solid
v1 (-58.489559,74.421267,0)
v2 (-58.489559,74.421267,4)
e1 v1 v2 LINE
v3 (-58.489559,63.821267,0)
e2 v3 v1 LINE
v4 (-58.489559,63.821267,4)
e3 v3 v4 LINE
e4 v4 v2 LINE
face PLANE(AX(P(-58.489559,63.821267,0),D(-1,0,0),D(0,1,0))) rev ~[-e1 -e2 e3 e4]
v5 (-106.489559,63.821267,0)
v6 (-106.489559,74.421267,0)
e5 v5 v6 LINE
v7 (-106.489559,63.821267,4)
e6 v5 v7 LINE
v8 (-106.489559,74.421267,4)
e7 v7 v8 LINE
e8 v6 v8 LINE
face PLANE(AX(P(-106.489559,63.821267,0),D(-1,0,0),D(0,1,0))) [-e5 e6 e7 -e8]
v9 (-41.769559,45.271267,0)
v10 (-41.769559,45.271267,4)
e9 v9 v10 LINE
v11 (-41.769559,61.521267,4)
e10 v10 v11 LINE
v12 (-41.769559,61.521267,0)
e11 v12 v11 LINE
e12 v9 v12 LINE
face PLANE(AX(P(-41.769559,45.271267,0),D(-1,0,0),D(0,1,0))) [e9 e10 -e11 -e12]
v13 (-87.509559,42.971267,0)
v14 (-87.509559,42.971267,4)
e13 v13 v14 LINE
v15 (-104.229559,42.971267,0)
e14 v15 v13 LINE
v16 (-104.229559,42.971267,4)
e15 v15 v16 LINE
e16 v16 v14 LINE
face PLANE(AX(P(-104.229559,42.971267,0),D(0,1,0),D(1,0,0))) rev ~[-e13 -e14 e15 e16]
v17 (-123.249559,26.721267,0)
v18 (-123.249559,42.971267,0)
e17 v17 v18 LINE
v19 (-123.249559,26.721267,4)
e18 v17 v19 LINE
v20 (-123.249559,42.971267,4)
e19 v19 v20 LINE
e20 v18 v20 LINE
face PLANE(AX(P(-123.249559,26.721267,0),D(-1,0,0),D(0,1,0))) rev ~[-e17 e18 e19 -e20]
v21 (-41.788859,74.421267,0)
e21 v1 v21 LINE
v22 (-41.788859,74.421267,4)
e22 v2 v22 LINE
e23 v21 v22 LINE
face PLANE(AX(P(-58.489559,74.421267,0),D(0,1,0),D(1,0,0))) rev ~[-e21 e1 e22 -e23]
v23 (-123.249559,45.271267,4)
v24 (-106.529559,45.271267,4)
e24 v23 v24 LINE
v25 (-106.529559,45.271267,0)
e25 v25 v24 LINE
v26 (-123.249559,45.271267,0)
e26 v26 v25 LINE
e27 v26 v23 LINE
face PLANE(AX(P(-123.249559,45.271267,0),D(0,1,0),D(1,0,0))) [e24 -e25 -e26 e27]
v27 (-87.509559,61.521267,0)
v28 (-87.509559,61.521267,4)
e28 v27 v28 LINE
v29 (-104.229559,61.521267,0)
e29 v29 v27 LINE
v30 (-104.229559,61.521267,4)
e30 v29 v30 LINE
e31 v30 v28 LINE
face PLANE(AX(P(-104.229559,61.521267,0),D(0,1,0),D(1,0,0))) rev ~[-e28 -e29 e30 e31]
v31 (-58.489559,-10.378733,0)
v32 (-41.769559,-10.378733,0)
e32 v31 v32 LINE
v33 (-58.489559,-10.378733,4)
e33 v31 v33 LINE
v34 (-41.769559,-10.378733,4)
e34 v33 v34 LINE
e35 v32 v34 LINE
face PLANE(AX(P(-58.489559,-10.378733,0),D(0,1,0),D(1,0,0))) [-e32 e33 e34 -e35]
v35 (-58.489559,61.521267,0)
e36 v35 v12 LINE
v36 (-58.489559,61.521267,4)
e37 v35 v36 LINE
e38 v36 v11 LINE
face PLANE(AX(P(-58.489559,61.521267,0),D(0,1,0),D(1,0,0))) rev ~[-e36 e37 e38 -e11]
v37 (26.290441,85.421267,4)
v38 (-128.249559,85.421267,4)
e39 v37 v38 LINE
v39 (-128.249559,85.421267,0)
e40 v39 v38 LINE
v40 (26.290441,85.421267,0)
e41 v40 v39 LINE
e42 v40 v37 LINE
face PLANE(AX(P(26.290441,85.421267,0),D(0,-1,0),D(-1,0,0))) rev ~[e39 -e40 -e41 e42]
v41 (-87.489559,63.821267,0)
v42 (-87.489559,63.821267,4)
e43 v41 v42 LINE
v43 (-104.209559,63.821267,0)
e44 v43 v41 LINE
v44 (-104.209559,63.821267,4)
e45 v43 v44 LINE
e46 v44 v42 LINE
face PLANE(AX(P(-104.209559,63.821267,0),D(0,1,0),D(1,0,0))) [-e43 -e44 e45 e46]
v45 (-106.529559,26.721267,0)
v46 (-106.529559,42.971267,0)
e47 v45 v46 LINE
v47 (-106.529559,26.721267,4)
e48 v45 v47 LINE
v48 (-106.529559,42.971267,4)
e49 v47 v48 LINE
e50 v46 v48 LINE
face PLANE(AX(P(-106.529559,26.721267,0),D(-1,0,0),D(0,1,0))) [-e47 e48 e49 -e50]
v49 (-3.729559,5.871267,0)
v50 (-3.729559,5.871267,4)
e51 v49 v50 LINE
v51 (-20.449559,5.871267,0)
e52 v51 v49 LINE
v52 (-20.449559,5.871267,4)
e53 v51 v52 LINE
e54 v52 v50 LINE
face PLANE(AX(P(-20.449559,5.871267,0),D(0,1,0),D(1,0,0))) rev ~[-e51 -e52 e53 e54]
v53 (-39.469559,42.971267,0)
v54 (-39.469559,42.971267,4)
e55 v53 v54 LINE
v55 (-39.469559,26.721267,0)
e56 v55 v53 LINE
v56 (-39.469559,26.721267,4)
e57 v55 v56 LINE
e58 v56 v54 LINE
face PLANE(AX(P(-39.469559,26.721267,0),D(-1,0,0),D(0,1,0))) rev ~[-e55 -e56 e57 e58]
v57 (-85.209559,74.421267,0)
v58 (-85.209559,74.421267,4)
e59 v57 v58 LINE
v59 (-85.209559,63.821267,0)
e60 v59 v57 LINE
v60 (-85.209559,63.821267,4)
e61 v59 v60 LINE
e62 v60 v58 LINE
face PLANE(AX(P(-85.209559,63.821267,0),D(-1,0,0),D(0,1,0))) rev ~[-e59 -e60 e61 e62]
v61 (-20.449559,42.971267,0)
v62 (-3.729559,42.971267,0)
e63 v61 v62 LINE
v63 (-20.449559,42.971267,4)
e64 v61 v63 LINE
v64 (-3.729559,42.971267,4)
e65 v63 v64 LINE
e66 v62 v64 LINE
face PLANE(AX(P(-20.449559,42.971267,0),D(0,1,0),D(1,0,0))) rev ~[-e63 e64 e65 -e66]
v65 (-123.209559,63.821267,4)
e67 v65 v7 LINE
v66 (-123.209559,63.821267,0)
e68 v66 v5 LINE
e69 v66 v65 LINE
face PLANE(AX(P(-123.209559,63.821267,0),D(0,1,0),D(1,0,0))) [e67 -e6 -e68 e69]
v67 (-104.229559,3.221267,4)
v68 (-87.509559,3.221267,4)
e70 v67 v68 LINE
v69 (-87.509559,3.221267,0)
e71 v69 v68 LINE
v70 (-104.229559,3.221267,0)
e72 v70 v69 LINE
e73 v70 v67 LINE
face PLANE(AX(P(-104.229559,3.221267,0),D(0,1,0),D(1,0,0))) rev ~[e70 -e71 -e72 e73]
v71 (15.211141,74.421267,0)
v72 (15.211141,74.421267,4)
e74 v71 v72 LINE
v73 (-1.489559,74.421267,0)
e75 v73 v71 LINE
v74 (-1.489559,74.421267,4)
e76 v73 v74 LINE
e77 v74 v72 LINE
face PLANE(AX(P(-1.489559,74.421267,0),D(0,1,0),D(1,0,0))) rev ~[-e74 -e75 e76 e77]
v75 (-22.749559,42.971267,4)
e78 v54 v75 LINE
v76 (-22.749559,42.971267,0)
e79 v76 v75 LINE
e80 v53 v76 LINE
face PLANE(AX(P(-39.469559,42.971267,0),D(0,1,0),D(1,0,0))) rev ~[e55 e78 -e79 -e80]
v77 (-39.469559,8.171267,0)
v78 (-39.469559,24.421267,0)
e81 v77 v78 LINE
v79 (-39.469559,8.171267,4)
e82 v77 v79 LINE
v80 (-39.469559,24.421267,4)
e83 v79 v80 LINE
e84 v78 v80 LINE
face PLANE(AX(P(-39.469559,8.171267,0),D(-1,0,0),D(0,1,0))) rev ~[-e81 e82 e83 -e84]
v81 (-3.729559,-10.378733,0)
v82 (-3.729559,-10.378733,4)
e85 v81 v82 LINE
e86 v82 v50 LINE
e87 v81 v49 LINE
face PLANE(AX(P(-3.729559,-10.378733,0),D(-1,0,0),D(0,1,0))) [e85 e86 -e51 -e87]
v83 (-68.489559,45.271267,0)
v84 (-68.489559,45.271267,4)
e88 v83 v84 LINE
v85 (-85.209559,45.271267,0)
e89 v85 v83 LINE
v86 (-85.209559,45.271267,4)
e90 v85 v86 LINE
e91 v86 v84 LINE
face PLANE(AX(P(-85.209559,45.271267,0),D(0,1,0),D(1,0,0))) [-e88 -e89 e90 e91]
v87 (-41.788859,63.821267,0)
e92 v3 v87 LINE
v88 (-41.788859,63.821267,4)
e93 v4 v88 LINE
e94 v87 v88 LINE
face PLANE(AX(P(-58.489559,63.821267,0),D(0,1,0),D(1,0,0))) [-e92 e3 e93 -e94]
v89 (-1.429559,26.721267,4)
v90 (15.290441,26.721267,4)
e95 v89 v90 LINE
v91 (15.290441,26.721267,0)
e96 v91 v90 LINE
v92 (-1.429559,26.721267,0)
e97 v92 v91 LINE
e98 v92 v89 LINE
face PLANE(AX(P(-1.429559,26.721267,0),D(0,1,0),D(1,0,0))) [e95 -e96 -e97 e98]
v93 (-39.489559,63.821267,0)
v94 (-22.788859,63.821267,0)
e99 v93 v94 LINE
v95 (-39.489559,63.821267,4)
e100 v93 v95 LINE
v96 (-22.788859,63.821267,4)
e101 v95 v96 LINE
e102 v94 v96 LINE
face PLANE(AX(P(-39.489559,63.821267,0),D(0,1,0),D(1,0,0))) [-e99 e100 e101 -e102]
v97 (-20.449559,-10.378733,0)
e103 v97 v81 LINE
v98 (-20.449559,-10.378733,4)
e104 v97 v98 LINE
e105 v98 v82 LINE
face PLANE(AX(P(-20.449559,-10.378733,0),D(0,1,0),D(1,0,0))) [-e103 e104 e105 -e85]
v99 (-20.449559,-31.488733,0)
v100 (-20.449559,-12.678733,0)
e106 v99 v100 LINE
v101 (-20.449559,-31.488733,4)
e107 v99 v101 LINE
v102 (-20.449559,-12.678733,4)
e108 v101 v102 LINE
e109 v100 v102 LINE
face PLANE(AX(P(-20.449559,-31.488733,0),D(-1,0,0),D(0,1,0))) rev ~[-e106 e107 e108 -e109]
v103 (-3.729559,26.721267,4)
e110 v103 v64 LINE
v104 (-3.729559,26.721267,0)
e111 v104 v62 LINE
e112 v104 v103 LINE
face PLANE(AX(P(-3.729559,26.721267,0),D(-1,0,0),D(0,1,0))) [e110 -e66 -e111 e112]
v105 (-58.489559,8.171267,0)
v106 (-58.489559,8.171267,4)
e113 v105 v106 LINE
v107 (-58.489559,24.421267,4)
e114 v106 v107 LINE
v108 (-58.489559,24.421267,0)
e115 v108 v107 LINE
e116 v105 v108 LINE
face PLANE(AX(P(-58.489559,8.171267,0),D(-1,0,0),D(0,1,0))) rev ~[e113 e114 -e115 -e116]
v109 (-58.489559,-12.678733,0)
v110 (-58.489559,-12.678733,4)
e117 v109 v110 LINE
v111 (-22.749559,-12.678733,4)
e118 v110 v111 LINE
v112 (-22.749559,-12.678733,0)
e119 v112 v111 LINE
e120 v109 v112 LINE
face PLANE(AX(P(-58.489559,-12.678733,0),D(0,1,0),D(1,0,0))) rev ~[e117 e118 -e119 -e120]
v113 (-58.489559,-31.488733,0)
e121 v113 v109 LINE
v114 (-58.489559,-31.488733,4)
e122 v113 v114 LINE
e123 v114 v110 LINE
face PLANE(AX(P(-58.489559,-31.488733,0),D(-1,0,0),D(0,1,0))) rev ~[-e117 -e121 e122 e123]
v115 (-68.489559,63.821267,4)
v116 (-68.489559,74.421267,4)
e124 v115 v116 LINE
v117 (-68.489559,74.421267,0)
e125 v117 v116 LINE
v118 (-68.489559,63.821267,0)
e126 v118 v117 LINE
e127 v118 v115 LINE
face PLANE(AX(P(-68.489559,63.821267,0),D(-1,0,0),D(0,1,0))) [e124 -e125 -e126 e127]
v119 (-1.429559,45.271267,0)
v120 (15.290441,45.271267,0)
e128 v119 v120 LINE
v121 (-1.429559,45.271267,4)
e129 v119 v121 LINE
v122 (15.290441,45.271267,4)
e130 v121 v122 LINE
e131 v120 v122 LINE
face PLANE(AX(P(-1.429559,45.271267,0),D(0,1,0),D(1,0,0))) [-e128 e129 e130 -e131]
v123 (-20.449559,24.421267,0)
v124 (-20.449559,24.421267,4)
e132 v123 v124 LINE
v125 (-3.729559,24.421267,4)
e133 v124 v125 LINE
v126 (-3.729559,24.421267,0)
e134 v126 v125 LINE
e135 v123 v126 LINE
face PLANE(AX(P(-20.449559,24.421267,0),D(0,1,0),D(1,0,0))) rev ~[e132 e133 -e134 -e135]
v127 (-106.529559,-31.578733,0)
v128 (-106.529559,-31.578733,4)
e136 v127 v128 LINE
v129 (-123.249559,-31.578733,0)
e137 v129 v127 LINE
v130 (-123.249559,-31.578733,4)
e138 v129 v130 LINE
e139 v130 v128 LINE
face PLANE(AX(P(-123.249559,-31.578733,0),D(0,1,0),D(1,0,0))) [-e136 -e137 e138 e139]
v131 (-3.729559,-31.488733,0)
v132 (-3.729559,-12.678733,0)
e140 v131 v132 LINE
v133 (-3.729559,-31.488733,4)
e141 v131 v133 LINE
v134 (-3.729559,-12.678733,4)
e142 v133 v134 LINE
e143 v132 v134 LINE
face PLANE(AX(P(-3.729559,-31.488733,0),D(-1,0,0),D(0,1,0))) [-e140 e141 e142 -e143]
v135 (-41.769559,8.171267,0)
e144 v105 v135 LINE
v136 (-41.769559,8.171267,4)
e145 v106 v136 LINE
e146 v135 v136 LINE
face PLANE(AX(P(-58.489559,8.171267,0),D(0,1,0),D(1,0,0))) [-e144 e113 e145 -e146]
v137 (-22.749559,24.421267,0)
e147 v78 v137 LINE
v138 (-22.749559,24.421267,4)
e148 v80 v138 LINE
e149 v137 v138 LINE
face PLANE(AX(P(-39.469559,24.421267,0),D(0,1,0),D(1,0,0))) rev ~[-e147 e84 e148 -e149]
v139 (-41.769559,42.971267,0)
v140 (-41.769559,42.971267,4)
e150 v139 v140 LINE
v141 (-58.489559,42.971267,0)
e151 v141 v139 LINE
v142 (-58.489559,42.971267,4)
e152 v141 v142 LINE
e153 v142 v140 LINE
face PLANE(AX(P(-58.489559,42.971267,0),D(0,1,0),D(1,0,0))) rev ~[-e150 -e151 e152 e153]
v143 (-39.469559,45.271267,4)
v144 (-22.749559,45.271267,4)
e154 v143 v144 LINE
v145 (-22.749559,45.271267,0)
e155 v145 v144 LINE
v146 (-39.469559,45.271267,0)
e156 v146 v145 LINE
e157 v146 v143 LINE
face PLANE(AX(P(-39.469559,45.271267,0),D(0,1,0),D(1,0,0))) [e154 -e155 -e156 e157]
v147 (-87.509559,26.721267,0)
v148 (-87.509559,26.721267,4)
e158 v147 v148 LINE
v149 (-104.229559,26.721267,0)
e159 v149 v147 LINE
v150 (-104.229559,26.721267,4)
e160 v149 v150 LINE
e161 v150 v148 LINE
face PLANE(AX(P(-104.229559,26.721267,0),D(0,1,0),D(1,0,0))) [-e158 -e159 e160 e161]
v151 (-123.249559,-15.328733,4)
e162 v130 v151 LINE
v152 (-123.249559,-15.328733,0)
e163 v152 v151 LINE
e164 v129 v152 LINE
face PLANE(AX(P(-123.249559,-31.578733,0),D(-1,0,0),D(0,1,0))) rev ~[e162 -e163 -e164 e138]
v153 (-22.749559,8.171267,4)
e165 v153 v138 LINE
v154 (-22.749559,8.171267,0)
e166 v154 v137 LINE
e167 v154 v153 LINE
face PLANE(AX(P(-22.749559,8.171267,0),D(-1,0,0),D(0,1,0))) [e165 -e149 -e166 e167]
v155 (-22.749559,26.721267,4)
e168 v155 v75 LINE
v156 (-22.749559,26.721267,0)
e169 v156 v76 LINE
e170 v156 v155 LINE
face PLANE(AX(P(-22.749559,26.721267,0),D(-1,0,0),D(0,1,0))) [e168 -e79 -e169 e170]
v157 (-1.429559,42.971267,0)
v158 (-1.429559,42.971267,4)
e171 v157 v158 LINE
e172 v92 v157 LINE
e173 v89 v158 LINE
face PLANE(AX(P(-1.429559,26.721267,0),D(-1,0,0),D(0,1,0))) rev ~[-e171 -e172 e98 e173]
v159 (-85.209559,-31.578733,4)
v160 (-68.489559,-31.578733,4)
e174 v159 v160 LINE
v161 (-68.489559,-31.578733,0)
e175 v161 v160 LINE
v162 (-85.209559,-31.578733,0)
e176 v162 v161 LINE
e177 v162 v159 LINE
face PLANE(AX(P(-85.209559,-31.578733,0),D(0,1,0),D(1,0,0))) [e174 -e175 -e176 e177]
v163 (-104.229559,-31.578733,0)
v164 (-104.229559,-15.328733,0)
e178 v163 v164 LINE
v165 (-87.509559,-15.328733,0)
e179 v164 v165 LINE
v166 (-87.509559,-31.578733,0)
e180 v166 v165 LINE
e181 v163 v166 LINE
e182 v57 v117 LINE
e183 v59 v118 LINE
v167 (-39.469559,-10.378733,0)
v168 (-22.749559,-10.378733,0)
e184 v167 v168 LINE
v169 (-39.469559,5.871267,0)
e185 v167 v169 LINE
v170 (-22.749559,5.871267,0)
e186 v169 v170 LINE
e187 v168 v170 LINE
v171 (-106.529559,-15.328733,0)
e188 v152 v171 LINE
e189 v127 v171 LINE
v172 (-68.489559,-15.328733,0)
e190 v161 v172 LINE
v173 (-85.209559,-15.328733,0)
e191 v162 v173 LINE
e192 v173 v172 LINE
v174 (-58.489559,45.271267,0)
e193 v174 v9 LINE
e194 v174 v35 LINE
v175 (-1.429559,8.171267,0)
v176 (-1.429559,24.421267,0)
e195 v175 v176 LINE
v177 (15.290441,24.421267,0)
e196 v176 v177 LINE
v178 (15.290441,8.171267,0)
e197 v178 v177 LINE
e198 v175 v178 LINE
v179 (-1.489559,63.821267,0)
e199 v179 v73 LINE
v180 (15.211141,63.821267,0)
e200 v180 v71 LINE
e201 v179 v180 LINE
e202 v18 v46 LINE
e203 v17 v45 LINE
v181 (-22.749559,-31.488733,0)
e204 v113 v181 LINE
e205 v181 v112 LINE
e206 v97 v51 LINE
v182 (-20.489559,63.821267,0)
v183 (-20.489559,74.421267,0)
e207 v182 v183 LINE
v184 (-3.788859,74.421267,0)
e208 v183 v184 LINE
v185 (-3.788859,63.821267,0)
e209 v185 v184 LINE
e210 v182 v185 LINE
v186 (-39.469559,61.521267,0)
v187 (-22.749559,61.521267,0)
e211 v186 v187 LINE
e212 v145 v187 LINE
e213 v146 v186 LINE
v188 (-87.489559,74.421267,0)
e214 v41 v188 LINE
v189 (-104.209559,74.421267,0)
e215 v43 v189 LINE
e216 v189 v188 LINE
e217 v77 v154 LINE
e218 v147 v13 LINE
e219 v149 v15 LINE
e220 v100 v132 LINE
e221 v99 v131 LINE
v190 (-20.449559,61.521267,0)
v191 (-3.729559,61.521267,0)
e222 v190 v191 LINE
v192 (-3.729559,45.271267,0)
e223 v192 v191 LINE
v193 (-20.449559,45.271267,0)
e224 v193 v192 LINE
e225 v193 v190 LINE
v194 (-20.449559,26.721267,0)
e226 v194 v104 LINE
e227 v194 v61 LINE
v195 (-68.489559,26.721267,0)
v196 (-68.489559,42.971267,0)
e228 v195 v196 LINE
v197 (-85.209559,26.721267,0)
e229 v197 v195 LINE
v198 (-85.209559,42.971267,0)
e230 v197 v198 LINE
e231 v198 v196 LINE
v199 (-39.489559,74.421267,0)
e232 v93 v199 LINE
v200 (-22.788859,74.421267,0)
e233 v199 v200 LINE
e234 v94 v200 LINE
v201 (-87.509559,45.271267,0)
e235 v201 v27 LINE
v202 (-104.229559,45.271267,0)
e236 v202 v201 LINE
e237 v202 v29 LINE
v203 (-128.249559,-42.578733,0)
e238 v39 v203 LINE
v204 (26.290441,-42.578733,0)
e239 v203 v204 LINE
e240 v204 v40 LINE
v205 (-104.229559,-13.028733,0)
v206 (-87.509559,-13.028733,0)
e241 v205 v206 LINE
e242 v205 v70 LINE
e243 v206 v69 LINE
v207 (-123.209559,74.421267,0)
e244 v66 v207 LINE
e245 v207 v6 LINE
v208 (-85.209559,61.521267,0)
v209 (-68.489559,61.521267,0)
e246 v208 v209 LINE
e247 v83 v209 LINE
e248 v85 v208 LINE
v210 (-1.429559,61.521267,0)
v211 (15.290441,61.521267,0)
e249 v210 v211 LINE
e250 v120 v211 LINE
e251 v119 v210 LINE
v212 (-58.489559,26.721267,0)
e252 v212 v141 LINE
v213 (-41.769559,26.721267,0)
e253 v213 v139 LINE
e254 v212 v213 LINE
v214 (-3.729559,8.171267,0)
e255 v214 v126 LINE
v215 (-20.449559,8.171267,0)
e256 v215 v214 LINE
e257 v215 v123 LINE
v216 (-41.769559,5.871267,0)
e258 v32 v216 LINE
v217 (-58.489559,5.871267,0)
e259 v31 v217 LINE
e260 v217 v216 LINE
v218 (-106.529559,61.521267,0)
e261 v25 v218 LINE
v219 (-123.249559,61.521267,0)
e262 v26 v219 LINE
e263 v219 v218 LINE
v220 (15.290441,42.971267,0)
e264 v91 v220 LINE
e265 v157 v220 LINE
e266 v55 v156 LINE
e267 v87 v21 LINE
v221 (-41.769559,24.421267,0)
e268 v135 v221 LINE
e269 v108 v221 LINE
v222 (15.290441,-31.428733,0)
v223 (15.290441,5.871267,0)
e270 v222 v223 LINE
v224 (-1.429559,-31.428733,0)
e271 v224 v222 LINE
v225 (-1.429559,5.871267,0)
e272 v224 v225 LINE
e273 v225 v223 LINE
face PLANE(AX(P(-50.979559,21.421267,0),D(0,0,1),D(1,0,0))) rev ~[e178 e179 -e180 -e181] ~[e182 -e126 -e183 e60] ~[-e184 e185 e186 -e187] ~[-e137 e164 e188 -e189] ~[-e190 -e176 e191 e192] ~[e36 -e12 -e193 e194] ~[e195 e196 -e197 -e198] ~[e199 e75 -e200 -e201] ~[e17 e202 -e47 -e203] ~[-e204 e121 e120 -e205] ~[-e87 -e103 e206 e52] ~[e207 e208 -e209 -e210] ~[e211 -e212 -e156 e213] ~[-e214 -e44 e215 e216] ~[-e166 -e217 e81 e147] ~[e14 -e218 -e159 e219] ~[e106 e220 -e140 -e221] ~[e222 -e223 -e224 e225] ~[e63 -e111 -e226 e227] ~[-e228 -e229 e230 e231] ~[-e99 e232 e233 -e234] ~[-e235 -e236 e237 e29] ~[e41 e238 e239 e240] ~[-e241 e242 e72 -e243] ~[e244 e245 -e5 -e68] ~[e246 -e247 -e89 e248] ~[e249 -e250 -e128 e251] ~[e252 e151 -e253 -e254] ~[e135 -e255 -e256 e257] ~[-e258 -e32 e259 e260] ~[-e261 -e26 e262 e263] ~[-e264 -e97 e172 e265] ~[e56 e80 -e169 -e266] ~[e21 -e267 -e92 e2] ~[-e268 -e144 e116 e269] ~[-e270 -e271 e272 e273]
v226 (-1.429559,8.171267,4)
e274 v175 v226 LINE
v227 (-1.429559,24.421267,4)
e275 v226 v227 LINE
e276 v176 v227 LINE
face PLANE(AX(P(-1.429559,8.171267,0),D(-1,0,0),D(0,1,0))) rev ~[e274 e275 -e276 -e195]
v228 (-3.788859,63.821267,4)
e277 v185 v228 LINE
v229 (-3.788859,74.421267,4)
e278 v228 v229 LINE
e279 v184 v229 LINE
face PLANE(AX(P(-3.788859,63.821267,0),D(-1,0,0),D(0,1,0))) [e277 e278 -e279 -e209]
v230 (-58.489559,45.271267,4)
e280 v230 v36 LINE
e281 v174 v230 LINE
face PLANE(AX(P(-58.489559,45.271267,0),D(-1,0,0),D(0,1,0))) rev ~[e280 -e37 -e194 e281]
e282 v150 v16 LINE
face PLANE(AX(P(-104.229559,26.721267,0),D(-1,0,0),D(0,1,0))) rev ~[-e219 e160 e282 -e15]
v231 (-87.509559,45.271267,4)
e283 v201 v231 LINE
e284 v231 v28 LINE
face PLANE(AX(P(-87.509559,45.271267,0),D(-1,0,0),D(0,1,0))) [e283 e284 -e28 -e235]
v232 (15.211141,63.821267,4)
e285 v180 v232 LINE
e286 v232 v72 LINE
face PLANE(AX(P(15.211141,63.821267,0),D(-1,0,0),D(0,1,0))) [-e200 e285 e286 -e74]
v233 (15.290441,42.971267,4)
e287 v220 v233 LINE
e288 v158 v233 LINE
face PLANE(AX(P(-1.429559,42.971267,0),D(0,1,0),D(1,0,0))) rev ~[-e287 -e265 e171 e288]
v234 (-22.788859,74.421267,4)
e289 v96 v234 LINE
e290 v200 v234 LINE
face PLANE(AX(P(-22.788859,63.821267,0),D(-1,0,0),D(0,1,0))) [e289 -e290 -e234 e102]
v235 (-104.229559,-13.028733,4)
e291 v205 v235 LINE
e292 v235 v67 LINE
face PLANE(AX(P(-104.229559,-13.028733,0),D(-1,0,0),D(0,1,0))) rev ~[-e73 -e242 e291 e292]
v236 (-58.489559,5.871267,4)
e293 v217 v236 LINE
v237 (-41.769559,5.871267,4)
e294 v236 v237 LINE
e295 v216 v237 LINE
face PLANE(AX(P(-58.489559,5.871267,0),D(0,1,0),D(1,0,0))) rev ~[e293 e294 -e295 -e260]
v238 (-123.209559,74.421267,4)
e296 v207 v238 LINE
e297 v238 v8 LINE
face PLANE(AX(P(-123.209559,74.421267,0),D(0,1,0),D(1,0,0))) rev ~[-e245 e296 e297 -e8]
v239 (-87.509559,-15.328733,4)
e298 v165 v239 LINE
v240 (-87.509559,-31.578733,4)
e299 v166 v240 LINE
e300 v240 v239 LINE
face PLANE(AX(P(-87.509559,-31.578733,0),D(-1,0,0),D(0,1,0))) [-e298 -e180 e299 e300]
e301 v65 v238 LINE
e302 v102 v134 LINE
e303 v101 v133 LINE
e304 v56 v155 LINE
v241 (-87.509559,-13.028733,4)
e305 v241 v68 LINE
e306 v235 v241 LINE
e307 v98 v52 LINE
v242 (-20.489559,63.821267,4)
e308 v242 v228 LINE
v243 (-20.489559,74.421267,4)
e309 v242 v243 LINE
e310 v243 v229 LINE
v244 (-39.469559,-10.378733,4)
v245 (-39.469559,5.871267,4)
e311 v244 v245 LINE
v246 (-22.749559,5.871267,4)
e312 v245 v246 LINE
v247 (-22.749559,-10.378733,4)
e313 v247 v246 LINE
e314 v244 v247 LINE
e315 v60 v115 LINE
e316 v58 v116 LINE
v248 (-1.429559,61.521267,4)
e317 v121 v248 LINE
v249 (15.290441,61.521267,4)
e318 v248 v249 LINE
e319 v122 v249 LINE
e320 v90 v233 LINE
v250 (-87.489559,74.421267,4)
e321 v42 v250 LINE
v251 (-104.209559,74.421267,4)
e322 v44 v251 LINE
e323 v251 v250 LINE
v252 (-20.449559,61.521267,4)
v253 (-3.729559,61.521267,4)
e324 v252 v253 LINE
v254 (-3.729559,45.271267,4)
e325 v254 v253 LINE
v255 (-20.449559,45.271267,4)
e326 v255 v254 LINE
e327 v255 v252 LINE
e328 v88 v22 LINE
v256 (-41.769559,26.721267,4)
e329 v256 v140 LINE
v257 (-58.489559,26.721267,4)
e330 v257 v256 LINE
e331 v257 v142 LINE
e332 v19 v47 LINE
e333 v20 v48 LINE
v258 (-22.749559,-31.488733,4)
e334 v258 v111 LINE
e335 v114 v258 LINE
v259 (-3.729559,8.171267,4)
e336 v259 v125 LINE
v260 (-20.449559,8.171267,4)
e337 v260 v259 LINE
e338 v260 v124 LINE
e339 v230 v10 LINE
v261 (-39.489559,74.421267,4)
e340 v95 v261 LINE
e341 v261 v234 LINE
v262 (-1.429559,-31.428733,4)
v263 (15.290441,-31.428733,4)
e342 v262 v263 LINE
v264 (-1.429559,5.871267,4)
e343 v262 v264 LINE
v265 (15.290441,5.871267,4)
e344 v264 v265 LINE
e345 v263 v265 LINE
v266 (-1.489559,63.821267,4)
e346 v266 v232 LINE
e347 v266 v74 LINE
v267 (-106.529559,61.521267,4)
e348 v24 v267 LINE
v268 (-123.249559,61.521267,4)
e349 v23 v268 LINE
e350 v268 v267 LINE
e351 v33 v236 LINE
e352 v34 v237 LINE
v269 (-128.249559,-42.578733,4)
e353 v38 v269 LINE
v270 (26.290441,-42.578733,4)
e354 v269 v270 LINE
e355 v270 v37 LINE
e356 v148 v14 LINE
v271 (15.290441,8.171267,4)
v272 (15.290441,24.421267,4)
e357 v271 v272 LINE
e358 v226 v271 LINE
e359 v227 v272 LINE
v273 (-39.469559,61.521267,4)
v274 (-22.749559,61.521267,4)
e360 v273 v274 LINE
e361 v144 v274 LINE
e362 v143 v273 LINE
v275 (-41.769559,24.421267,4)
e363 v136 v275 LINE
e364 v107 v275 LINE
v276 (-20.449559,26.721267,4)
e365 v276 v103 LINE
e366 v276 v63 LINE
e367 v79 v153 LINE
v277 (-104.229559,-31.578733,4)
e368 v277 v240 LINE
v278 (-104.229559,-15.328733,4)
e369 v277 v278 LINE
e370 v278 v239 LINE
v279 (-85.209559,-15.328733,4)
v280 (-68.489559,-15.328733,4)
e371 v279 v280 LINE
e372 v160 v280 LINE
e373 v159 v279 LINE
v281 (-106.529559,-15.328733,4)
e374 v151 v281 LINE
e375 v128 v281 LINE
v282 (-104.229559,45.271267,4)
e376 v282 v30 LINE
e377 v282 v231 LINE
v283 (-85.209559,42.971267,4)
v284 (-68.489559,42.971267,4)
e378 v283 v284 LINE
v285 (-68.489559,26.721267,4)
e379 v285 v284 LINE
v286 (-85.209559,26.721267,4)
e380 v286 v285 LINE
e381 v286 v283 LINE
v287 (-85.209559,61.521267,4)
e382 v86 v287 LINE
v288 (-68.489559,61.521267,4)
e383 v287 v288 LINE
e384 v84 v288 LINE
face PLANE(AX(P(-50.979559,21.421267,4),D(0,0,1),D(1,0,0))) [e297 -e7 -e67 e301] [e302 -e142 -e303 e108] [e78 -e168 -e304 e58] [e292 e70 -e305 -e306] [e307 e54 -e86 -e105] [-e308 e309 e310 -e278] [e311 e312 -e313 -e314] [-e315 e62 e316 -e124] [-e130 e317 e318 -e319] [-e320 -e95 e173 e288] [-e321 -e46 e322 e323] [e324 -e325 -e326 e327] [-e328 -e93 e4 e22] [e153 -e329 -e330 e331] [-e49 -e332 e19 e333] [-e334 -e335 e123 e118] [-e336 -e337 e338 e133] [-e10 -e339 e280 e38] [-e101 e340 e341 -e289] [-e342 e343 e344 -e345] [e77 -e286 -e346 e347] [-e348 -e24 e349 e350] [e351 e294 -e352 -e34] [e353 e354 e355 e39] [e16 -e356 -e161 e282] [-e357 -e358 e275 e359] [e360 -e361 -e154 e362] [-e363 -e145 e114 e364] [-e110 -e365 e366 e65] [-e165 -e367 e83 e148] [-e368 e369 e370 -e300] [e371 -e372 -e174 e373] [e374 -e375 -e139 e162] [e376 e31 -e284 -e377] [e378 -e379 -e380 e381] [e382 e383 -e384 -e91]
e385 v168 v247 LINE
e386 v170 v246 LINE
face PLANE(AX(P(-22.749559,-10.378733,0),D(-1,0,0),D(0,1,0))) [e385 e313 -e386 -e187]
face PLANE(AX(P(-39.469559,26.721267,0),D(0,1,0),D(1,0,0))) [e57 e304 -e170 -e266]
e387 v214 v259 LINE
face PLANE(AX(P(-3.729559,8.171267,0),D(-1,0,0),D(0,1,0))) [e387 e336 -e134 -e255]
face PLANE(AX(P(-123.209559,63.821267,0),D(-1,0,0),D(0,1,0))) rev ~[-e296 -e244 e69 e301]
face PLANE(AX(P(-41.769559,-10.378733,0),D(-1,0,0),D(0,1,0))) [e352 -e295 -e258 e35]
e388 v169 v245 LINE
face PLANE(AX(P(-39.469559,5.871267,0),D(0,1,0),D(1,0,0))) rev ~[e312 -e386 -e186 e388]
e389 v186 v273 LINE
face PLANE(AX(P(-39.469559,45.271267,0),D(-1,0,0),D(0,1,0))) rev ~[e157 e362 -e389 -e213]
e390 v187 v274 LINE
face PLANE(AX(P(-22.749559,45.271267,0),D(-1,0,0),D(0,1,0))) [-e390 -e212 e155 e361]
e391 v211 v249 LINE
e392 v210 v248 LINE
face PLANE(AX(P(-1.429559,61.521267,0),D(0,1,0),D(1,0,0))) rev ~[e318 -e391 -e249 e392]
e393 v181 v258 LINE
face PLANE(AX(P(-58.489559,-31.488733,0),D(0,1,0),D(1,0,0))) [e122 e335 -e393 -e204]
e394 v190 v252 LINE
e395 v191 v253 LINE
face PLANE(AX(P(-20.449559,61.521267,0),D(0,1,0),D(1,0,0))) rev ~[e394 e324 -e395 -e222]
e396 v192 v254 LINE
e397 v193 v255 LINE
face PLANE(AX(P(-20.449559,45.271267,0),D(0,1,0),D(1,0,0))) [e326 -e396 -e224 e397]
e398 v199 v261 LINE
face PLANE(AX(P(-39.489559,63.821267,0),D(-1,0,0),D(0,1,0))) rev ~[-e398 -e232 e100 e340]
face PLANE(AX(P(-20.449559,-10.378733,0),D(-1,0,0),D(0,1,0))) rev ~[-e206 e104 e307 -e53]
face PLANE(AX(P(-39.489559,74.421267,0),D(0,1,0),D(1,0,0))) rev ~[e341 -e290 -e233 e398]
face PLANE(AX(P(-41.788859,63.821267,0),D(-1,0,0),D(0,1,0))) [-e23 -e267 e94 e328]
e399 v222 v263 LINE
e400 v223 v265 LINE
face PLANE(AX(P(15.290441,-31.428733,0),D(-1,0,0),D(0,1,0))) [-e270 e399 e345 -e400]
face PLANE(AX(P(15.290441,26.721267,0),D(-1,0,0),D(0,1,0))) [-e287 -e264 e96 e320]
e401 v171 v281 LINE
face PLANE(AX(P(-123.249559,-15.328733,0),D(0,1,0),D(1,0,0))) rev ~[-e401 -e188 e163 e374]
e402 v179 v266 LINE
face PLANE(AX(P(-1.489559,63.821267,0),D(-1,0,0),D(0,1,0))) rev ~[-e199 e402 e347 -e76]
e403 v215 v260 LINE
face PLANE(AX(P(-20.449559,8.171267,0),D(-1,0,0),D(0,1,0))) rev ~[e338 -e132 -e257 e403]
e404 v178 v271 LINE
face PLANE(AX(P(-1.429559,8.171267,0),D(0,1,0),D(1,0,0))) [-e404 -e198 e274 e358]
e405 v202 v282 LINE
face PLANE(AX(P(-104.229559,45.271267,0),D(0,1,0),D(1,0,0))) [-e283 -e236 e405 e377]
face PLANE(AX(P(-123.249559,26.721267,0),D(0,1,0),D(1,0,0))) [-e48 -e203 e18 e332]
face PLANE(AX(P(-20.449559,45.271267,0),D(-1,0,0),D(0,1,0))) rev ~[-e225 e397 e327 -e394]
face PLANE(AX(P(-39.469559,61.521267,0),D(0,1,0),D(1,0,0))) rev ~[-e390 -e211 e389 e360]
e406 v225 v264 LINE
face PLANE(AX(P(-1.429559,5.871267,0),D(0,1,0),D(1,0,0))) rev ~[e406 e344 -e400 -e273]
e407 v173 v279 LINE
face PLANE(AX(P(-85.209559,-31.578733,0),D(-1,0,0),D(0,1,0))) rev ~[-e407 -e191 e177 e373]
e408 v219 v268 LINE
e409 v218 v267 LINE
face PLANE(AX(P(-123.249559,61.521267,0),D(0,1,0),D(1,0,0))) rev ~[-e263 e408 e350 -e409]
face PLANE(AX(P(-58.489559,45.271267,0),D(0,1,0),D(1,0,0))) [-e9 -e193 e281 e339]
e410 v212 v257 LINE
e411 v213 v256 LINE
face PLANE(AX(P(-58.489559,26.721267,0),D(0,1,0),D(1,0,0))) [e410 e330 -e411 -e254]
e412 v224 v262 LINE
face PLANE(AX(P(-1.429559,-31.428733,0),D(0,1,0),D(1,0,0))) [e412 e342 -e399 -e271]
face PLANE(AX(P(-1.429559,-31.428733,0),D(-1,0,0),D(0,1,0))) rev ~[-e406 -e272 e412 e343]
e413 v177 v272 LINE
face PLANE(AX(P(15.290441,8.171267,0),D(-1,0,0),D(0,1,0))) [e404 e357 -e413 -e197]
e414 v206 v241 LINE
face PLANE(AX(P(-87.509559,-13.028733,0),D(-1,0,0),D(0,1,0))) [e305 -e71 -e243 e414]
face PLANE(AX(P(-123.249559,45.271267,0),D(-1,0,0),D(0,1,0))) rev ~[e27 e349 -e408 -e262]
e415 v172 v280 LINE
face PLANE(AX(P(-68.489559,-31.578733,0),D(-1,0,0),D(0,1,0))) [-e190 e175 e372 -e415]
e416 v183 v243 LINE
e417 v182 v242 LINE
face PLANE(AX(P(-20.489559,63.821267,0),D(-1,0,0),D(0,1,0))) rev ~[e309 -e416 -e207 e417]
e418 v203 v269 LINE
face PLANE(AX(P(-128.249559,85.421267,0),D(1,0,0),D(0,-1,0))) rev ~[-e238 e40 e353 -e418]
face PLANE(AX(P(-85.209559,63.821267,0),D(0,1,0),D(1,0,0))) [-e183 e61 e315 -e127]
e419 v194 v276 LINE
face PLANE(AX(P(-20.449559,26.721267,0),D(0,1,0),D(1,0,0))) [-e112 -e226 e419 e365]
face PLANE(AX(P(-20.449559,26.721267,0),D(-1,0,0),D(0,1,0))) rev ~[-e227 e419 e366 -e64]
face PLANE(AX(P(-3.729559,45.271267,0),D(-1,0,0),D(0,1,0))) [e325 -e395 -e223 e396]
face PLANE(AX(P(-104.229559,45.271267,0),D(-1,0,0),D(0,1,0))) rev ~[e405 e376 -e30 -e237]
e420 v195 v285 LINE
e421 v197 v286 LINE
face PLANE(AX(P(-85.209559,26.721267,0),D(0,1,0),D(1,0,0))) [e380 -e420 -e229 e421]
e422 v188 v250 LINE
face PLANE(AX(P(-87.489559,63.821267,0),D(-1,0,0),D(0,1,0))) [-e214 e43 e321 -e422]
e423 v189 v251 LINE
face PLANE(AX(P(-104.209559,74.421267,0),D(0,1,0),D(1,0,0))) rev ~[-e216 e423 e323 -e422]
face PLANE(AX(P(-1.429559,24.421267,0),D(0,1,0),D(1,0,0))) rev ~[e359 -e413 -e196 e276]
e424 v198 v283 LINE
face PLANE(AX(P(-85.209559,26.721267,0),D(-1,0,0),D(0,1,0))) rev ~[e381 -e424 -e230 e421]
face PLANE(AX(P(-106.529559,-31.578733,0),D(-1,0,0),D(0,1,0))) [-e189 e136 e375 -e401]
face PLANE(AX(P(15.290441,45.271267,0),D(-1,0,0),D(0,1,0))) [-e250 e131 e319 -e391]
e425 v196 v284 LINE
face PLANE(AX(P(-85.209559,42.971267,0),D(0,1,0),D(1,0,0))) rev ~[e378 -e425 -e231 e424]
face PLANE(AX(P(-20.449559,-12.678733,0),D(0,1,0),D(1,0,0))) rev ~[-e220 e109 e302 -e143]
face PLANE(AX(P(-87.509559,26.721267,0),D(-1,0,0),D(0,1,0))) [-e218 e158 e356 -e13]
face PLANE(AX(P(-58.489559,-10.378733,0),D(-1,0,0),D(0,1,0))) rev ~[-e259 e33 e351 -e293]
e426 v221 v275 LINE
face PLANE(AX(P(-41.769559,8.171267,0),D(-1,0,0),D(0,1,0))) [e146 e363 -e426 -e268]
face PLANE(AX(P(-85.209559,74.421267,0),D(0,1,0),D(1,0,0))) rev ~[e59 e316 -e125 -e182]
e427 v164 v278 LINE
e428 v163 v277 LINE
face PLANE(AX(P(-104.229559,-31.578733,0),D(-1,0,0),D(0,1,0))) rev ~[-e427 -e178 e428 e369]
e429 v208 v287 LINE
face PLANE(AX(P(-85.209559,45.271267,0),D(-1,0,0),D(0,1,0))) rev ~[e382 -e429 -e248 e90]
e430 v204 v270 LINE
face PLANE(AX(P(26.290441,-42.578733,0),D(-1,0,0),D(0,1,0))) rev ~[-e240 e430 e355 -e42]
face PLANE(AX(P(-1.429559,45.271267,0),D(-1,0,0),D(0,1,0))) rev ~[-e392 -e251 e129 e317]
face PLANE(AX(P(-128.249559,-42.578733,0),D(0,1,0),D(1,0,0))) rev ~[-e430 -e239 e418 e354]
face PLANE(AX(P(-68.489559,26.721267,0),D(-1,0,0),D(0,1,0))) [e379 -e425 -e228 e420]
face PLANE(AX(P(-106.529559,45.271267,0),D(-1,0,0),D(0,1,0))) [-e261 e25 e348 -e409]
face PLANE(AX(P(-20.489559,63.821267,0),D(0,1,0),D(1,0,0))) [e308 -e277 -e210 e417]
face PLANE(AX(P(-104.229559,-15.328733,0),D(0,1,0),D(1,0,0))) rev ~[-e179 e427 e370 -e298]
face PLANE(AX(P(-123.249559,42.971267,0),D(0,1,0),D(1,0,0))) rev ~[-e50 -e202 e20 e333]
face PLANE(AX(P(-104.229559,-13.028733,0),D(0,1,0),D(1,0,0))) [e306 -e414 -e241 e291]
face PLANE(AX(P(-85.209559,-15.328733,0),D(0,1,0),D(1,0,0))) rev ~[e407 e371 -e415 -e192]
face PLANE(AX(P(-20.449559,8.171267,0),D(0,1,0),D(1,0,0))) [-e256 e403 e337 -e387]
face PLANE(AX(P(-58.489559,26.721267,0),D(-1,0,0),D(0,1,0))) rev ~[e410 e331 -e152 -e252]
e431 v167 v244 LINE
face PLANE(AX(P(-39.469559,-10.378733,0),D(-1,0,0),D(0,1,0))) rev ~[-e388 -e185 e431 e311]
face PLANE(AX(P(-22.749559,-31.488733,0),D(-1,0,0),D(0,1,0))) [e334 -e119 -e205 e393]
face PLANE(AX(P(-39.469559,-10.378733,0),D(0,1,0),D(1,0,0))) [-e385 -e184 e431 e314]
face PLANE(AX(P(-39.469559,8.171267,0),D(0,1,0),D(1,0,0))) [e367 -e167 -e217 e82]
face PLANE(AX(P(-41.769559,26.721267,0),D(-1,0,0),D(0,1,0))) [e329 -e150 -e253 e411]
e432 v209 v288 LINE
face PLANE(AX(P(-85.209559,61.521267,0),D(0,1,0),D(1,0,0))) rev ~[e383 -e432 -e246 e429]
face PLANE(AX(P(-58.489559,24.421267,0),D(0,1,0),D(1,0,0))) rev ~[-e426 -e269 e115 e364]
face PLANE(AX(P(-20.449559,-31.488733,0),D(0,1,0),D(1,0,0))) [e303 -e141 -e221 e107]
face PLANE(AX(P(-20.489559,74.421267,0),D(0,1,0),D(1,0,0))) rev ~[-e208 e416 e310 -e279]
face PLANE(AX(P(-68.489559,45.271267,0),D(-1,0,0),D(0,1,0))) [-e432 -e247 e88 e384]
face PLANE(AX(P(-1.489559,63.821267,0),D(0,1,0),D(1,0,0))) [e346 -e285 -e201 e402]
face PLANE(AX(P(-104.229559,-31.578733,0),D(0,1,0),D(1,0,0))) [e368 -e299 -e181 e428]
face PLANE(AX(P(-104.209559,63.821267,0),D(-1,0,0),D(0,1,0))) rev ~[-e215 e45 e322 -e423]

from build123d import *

# Parameters (mm, degrees)
F0_W     = 16.72
F0_H     = 16.25
F0_W_2   = 35.74
F0_H_2   = 18.81
F0_H_3   = 37.3
F0_H_4   = 10.6
F0_W_3   = 16.7007
F1_DEPTH = 4


with BuildPart() as f1:
    # F0 (on Top) → F1 (new body)
    with BuildSketch(Plane.XY):
        Polygon((26.290441, -42.578733), (26.290441, 85.421267), (-128.249559, 85.421267), (-128.249559, 78.421267), (-128.249559, -35.578733), (-128.249559, -42.578733), align=None)
        with Locations((-114.889559, -23.453733)):
            Rectangle(F0_W, F0_H, mode=Mode.SUBTRACT)
        with Locations((-95.869559, -23.453733)):
            Rectangle(F0_W, F0_H, mode=Mode.SUBTRACT)
        with Locations((-76.849559, -23.453733)):
            Rectangle(F0_W, F0_H, mode=Mode.SUBTRACT)
        with Locations((-95.869559, -4.903733)):
            Rectangle(F0_W, F0_H, mode=Mode.SUBTRACT)
        with Locations((-40.619559, -22.083733)):
            Rectangle(F0_W_2, F0_H_2, mode=Mode.SUBTRACT)
        with Locations((-12.089559, -22.083733)):
            Rectangle(F0_W, F0_H_2, mode=Mode.SUBTRACT)
        with Locations((6.930441, -12.778733)):
            Rectangle(F0_W, F0_H_3, mode=Mode.SUBTRACT)
        with Locations((-50.129559, -2.253733)):
            Rectangle(F0_W, F0_H, mode=Mode.SUBTRACT)
        with Locations((-31.109559, -2.253733)):
            Rectangle(F0_W, F0_H, mode=Mode.SUBTRACT)
        with Locations((-50.129559, 16.296267)):
            Rectangle(F0_W, F0_H, mode=Mode.SUBTRACT)
        with Locations((-31.109559, 16.296267)):
            Rectangle(F0_W, F0_H, mode=Mode.SUBTRACT)
        with Locations((-12.089559, -2.253733)):
            Rectangle(F0_W, F0_H, mode=Mode.SUBTRACT)
        with Locations((-12.089559, 16.296267)):
            Rectangle(F0_W, F0_H, mode=Mode.SUBTRACT)
        with Locations((6.930441, 16.296267)):
            Rectangle(F0_W, F0_H, mode=Mode.SUBTRACT)
        with Locations((-114.889559, 34.846267)):
            Rectangle(F0_W, F0_H, mode=Mode.SUBTRACT)
        with Locations((-95.869559, 34.846267)):
            Rectangle(F0_W, F0_H, mode=Mode.SUBTRACT)
        with Locations((-114.889559, 53.396267)):
            Rectangle(F0_W, F0_H, mode=Mode.SUBTRACT)
        with Locations((-95.869559, 53.396267)):
            Rectangle(F0_W, F0_H, mode=Mode.SUBTRACT)
        with Locations((-76.849559, 34.846267)):
            Rectangle(F0_W, F0_H, mode=Mode.SUBTRACT)
        with Locations((-76.849559, 53.396267)):
            Rectangle(F0_W, F0_H, mode=Mode.SUBTRACT)
        with Locations((-114.849559, 69.121267)):
            Rectangle(F0_W, F0_H_4, mode=Mode.SUBTRACT)
        with Locations((-95.849559, 69.121267)):
            Rectangle(F0_W, F0_H_4, mode=Mode.SUBTRACT)
        with Locations((-76.849559, 69.121267)):
            Rectangle(F0_W, F0_H_4, mode=Mode.SUBTRACT)
        with Locations((-50.129559, 34.846267)):
            Rectangle(F0_W, F0_H, mode=Mode.SUBTRACT)
        with Locations((-31.109559, 34.846267)):
            Rectangle(F0_W, F0_H, mode=Mode.SUBTRACT)
        with Locations((-50.129559, 53.396267)):
            Rectangle(F0_W, F0_H, mode=Mode.SUBTRACT)
        with Locations((-31.109559, 53.396267)):
            Rectangle(F0_W, F0_H, mode=Mode.SUBTRACT)
        with Locations((-12.089559, 34.846267)):
            Rectangle(F0_W, F0_H, mode=Mode.SUBTRACT)
        with Locations((6.930441, 34.846267)):
            Rectangle(F0_W, F0_H, mode=Mode.SUBTRACT)
        with Locations((-12.089559, 53.396267)):
            Rectangle(F0_W, F0_H, mode=Mode.SUBTRACT)
        with Locations((6.930441, 53.396267)):
            Rectangle(F0_W, F0_H, mode=Mode.SUBTRACT)
        with Locations((-50.139209, 69.121267)):
            Rectangle(F0_W_3, F0_H_4, mode=Mode.SUBTRACT)
        with Locations((-31.139209, 69.121267)):
            Rectangle(F0_W_3, F0_H_4, mode=Mode.SUBTRACT)
        with Locations((-12.139209, 69.121267)):
            Rectangle(F0_W_3, F0_H_4, mode=Mode.SUBTRACT)
        with Locations((6.860791, 69.121267)):
            Rectangle(F0_W_3, F0_H_4, mode=Mode.SUBTRACT)
    extrude(amount=F1_DEPTH)


solid = f1.part
